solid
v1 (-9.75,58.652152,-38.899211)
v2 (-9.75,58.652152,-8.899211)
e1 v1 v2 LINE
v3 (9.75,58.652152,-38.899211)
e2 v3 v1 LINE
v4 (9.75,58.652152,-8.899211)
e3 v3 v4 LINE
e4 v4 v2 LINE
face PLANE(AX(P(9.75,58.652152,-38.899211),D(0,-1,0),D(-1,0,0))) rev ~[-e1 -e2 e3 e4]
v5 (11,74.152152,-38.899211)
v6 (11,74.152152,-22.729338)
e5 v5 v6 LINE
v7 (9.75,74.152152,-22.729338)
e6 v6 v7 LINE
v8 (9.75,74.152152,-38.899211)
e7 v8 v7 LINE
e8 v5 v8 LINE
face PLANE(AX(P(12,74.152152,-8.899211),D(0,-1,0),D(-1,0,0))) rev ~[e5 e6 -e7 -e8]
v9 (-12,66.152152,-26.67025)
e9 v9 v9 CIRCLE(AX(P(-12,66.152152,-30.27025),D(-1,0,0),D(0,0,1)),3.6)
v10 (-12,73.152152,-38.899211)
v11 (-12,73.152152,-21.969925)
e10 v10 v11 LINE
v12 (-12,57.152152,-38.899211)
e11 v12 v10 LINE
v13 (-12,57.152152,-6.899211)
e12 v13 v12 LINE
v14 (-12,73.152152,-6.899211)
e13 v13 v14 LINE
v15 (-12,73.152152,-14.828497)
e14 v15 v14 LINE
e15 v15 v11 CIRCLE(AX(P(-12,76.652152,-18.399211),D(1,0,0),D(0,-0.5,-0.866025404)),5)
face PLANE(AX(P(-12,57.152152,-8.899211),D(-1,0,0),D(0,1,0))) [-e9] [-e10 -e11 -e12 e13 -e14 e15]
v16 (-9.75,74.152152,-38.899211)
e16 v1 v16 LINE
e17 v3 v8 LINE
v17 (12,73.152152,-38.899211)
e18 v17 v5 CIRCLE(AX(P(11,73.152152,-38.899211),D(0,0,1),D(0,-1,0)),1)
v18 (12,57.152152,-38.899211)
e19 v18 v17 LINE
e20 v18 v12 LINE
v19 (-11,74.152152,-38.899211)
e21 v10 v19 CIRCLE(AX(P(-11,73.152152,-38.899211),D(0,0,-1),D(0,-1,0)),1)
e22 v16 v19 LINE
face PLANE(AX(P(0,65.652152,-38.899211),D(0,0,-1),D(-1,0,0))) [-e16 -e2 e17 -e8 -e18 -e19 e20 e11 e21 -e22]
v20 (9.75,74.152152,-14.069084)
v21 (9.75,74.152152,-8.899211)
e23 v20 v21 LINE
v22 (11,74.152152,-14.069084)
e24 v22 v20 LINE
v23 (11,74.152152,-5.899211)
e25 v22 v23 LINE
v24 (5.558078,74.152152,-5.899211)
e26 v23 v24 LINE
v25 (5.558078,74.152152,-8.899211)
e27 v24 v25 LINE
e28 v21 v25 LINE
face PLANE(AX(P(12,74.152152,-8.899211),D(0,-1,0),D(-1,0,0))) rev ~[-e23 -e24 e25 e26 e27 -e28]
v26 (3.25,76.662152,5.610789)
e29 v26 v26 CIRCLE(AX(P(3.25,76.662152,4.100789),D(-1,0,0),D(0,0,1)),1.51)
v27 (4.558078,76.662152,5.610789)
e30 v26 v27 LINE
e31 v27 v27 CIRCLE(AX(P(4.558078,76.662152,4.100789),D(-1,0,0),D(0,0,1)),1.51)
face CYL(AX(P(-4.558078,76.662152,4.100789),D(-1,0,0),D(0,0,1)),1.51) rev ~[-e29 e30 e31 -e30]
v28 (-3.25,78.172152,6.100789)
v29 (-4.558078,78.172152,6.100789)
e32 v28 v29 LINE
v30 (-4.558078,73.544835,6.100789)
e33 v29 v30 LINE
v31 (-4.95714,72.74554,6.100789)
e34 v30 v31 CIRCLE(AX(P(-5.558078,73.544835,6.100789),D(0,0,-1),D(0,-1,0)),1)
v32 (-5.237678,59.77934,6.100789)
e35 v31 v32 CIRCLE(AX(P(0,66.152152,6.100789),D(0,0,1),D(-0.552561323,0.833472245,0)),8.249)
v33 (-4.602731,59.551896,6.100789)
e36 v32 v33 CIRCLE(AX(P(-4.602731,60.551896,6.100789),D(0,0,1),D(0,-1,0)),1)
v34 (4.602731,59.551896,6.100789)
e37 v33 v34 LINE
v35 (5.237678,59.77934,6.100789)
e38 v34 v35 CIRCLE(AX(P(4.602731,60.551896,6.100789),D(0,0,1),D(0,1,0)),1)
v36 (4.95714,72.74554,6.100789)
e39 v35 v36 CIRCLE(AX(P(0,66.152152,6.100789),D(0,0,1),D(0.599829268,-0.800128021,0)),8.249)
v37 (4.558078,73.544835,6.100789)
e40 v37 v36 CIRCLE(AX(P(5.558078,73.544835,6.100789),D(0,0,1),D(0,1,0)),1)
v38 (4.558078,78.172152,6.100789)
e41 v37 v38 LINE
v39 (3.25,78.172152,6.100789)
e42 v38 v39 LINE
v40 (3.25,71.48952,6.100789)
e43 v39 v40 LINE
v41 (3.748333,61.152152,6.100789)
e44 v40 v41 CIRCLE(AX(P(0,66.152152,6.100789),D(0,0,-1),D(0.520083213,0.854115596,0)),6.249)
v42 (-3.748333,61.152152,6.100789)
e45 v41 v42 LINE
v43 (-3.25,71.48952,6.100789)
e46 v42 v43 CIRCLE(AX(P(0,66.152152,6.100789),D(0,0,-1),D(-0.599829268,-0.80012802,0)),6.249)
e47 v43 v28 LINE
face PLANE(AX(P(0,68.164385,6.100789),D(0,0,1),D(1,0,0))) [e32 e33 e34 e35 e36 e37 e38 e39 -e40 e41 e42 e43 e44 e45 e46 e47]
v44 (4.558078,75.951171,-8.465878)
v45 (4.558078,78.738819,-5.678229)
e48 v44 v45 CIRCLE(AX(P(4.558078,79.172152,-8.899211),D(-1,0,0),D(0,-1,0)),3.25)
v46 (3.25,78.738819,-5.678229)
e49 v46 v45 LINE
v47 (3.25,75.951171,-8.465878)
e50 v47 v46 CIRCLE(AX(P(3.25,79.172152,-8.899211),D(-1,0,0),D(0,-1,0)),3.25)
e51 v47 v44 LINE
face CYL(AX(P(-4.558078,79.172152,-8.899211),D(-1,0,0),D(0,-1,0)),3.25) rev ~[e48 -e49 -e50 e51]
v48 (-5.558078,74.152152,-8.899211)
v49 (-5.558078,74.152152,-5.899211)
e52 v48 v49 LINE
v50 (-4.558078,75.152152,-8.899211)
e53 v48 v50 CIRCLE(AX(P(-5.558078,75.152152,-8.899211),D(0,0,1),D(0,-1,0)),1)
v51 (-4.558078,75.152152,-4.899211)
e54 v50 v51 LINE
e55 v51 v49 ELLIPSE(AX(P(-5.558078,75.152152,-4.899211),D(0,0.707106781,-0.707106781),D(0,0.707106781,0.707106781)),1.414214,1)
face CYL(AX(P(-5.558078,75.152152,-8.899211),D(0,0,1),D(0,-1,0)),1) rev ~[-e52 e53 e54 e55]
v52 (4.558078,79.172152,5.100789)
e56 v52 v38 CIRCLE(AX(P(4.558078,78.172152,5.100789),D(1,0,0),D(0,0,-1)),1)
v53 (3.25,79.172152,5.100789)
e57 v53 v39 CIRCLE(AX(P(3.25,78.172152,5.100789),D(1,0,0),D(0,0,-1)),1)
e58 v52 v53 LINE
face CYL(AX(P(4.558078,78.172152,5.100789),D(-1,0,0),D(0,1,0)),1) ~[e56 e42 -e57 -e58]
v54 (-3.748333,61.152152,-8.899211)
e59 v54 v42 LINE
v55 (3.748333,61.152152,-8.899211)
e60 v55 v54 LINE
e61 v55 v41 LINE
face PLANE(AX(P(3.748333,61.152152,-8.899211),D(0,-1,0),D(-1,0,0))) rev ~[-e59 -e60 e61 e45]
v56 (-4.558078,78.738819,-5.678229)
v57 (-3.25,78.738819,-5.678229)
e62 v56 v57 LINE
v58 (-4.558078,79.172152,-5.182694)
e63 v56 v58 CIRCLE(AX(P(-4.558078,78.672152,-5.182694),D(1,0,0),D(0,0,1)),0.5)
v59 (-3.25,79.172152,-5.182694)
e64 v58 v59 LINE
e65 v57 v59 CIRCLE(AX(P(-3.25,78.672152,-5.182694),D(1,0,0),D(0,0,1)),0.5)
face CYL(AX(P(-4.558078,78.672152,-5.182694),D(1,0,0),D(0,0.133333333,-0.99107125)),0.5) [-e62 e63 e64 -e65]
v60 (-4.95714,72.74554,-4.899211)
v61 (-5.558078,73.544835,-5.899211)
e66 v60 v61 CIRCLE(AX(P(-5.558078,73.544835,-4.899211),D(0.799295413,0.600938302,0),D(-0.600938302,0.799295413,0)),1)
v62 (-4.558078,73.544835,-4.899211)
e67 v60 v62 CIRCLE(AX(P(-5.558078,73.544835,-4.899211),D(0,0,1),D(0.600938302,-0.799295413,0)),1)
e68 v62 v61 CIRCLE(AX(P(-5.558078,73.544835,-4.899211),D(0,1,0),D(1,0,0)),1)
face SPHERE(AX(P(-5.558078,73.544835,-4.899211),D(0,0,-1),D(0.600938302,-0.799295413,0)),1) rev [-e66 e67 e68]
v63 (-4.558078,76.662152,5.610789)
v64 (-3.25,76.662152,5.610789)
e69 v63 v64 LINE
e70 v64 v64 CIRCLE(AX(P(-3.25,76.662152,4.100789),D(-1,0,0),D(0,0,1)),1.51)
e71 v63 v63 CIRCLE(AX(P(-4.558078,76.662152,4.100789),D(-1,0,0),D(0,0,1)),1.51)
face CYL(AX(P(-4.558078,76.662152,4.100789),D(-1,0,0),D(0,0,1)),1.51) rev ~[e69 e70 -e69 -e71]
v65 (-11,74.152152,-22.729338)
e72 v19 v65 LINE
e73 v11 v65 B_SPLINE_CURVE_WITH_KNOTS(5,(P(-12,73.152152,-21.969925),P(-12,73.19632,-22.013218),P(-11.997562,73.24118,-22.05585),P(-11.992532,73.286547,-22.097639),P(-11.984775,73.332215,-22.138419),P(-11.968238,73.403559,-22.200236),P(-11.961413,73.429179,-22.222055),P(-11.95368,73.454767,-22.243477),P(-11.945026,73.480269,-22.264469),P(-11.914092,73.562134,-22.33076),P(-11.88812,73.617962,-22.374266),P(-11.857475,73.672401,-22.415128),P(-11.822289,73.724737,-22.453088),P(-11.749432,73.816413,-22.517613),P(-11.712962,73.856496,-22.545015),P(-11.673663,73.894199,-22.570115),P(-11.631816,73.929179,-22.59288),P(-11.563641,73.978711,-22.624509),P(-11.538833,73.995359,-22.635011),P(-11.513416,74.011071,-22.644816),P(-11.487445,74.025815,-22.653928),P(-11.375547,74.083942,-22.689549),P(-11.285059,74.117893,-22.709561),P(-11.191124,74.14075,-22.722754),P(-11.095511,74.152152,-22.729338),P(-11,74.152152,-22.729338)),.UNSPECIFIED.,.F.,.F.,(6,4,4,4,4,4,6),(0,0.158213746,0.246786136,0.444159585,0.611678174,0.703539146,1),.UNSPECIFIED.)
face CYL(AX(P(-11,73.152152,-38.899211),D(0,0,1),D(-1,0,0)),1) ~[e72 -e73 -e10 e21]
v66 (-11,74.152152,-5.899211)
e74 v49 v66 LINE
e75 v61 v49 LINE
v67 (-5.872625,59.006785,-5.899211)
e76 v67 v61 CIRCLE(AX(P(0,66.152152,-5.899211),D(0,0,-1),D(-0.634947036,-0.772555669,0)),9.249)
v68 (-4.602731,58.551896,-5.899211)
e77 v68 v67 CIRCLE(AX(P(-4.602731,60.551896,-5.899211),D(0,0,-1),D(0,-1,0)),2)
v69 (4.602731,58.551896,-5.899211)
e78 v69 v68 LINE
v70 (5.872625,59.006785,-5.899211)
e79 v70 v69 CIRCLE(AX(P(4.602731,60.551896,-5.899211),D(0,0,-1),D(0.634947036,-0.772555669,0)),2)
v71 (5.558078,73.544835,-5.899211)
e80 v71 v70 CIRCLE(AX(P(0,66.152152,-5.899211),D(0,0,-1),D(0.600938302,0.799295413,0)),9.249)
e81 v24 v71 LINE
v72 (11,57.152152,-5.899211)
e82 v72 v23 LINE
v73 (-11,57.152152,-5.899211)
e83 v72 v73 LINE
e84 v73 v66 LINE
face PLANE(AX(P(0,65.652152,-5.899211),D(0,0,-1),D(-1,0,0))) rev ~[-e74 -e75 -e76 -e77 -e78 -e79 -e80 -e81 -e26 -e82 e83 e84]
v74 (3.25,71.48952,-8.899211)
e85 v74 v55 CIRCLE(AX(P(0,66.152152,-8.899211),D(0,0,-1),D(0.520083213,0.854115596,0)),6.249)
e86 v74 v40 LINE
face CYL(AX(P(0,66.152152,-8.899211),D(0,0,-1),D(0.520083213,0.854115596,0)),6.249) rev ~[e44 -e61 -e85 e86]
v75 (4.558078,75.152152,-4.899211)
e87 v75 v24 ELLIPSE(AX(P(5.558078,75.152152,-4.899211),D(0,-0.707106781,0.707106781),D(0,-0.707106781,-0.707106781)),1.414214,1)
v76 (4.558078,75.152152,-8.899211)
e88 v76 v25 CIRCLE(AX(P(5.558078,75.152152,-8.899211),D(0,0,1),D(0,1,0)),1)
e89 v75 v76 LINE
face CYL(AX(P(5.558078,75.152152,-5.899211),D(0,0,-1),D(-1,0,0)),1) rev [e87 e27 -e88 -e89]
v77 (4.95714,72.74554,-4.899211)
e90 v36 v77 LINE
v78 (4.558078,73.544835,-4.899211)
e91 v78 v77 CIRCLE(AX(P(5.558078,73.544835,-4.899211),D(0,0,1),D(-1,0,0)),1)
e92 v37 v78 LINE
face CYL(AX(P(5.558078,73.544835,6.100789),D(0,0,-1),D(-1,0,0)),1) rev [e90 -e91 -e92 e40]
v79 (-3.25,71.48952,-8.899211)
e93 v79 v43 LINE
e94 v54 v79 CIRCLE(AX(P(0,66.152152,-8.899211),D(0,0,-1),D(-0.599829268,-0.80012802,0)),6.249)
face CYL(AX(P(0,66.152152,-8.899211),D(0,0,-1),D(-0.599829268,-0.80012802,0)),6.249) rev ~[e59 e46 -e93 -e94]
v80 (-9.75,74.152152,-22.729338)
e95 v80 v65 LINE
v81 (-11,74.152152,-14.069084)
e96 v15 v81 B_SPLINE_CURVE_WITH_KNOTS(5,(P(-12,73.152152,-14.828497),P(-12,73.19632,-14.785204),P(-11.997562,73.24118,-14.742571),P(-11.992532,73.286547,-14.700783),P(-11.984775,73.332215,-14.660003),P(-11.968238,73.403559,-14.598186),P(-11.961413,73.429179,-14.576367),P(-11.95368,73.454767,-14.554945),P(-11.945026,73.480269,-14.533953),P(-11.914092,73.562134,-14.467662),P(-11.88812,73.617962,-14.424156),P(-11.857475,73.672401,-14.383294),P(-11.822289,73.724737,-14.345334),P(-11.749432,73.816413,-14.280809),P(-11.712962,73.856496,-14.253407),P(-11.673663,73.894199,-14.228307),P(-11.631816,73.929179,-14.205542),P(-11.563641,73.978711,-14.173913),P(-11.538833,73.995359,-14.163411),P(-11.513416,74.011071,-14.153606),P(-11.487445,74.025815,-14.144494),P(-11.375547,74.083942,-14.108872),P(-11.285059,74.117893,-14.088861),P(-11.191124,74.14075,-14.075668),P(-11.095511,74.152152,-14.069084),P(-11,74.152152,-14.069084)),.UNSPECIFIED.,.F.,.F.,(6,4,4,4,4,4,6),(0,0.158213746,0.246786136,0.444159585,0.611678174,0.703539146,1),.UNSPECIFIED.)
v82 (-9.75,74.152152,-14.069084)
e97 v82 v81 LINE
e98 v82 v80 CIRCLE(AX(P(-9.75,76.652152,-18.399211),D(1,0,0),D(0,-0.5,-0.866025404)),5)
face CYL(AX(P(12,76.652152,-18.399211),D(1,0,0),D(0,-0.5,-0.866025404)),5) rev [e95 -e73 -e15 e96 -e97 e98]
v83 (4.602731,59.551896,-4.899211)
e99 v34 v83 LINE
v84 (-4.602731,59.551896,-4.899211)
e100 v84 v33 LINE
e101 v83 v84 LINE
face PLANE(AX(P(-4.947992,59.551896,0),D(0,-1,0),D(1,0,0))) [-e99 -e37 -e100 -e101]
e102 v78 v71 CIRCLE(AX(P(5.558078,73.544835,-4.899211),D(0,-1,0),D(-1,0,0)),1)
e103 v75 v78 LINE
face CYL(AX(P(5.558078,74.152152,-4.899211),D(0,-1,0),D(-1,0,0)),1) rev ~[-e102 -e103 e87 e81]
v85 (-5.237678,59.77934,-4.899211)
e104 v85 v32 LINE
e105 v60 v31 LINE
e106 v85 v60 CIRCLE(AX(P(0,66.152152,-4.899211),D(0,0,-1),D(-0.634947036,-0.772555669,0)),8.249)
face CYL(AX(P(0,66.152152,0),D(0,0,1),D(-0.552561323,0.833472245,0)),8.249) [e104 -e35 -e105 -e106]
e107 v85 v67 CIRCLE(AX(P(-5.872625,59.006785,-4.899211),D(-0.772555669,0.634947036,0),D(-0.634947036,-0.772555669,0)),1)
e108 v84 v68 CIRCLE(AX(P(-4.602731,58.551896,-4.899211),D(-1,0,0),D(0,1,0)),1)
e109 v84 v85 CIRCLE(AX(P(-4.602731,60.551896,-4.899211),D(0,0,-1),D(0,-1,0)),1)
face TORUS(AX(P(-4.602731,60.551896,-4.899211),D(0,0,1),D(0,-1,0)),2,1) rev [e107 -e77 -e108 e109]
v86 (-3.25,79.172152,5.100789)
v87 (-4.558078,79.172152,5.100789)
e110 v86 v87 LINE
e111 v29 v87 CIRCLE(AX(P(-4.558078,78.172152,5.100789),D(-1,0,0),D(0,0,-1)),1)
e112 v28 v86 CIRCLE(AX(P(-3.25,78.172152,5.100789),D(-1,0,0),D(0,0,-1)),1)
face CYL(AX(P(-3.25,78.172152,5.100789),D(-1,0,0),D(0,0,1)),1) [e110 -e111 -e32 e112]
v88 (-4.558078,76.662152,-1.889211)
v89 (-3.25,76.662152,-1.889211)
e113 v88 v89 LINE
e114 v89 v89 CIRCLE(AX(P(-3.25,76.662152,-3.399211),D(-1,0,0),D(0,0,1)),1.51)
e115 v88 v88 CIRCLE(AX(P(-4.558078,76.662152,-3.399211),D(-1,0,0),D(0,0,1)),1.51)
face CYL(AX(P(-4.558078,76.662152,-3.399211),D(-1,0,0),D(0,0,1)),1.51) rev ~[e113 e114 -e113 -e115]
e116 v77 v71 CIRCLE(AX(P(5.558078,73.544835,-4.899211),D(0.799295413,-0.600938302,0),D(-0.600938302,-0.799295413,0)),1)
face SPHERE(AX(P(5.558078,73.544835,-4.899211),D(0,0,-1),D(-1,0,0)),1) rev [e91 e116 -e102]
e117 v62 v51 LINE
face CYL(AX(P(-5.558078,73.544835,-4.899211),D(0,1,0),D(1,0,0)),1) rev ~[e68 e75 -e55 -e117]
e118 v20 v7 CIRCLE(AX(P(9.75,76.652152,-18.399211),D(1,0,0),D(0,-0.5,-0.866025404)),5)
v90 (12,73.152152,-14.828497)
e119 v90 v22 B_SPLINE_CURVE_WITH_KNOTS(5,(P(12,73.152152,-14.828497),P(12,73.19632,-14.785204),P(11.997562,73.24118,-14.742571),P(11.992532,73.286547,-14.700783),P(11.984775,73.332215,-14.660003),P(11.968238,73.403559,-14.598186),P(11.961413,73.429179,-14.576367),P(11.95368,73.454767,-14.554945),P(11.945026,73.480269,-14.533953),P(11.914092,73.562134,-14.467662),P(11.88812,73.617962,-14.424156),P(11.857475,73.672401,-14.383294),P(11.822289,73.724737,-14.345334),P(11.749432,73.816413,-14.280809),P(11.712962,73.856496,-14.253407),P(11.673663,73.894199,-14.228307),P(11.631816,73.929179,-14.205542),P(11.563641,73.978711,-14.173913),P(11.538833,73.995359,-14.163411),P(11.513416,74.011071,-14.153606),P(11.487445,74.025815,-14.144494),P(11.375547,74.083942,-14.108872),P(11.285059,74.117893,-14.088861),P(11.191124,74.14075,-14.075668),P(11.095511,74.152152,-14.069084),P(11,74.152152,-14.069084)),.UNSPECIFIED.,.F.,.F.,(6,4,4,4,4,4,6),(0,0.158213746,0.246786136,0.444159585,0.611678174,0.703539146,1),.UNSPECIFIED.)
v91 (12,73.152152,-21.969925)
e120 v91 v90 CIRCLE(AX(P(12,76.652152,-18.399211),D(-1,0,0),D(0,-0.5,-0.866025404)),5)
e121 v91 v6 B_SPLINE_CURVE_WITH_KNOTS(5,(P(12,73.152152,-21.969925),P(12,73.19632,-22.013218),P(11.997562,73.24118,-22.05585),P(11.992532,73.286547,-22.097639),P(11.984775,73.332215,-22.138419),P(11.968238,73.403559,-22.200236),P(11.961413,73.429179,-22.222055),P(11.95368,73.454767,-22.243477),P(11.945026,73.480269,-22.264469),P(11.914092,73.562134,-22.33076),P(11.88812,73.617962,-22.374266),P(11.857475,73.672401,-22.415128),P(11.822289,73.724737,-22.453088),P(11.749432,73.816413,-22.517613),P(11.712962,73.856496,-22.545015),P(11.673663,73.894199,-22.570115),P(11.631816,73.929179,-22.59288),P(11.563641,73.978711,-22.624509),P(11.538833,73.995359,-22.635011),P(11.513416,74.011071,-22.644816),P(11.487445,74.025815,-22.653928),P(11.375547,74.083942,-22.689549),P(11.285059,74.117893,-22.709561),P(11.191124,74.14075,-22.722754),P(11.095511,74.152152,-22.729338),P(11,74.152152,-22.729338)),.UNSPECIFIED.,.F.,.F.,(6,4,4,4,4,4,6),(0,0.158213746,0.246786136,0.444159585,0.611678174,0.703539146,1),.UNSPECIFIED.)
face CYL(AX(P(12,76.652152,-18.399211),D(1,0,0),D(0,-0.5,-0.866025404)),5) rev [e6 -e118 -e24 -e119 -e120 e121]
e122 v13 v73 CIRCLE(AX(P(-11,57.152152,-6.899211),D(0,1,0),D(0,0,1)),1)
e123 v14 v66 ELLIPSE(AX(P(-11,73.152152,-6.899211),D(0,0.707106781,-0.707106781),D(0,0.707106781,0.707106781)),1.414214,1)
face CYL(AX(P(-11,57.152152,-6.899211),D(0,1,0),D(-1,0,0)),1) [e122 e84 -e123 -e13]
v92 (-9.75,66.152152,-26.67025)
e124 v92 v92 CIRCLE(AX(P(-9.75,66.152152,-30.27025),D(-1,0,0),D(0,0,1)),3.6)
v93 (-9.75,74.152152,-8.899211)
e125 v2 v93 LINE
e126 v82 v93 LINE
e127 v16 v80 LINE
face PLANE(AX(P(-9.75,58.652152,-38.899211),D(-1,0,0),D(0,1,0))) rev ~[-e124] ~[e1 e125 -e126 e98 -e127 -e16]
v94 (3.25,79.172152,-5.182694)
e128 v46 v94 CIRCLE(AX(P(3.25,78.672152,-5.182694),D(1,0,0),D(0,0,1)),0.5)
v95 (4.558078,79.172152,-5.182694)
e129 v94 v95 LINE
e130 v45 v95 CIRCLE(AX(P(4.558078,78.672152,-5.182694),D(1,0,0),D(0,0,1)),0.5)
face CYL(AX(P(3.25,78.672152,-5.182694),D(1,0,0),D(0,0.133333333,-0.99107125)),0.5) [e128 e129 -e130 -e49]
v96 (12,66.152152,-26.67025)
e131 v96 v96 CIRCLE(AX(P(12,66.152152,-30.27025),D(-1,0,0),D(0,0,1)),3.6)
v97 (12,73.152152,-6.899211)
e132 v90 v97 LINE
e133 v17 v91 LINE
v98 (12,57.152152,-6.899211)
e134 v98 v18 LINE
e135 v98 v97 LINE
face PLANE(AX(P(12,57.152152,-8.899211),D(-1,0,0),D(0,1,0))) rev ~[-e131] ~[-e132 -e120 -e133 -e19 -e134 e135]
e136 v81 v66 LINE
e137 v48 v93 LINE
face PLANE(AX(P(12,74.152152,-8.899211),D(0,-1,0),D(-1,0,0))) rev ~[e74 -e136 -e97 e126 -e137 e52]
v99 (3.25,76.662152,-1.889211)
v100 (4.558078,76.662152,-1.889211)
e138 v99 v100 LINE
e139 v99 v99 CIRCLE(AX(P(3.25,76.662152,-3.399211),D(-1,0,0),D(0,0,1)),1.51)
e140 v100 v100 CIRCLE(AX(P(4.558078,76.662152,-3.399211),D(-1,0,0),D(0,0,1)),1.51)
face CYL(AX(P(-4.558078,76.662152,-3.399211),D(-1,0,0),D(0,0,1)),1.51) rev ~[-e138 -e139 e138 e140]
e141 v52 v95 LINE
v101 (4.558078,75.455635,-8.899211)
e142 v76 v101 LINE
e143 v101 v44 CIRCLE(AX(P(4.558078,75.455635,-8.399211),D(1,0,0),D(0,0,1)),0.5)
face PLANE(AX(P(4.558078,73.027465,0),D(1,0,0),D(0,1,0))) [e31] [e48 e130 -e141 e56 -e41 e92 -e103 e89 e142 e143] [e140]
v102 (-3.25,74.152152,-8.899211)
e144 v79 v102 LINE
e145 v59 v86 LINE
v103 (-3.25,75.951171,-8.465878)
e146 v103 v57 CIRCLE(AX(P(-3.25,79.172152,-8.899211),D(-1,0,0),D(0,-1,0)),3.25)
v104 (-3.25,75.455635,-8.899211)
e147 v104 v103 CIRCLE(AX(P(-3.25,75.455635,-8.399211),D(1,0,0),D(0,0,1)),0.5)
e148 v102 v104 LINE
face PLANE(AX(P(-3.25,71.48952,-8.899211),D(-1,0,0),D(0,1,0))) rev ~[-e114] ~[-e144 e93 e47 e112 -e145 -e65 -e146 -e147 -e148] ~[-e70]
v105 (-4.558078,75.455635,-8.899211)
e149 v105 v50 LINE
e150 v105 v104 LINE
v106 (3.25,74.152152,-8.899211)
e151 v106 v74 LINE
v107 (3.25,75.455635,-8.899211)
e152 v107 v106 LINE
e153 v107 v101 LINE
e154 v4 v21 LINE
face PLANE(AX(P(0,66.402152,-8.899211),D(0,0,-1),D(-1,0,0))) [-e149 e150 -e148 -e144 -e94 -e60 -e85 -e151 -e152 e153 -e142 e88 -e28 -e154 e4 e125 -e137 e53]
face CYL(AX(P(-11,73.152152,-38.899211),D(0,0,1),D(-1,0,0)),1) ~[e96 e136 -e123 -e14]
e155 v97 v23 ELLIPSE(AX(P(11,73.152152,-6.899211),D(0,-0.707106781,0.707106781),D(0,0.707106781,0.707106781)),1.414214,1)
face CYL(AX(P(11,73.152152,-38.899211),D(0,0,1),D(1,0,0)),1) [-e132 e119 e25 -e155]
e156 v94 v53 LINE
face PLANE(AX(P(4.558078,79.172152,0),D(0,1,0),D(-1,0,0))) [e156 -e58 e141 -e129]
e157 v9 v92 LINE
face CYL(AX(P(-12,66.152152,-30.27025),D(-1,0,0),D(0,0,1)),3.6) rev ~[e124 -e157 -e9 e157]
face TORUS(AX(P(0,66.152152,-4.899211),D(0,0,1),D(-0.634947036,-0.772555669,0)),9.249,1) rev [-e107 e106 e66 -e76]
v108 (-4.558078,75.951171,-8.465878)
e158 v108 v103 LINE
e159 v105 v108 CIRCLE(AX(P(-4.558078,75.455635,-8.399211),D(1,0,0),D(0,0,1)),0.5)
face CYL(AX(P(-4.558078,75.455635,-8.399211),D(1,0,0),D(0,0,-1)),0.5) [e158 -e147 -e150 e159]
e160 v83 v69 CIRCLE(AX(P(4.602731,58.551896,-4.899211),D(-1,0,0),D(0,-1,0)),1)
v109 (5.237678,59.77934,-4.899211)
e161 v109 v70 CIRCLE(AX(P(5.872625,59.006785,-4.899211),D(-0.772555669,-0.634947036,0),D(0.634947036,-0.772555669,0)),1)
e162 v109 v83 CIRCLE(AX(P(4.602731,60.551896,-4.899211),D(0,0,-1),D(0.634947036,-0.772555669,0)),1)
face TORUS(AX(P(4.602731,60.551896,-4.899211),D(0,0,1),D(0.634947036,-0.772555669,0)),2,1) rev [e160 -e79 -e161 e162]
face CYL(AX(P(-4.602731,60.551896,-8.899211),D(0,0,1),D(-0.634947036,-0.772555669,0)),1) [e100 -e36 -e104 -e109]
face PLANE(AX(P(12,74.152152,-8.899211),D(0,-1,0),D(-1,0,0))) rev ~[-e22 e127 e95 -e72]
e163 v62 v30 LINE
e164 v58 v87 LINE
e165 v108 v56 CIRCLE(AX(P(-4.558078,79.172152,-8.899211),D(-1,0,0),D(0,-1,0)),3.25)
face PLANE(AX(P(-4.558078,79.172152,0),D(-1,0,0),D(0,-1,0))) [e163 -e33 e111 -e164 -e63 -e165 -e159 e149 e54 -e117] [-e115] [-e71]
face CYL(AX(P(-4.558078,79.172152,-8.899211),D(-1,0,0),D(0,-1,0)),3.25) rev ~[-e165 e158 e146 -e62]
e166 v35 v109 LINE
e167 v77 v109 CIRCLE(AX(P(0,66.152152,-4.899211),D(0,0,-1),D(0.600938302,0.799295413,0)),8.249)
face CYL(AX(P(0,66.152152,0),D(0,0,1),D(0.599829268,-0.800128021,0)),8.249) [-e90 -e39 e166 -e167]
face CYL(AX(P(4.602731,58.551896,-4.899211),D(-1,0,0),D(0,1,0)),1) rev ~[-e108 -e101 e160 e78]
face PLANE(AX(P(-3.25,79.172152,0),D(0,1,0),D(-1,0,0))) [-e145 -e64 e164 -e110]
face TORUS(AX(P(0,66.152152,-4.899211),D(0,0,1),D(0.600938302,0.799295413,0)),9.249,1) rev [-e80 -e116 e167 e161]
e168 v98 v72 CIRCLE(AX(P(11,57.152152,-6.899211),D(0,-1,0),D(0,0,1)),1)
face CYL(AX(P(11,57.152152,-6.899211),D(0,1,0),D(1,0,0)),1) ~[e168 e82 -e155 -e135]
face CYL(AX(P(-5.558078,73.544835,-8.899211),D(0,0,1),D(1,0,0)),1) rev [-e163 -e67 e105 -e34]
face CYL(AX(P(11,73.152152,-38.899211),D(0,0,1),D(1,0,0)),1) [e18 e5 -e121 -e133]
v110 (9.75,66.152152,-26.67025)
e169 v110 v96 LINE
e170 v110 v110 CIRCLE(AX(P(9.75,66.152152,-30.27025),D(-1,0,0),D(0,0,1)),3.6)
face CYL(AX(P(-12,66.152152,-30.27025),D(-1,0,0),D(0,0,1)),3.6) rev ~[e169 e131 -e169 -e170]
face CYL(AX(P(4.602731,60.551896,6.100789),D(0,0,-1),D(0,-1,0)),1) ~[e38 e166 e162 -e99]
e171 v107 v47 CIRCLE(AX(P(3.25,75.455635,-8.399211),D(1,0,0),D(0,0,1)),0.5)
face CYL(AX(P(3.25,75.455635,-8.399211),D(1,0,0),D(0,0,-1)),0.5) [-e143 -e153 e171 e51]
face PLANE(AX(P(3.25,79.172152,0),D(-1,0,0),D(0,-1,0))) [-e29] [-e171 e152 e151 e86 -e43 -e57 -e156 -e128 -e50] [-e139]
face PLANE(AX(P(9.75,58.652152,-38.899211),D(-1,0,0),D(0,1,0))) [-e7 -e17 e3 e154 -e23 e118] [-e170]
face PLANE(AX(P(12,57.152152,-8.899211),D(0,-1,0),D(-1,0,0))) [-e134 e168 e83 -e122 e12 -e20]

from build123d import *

# Parameters (mm, degrees)
BOSS_EXTRUDE1_DEPTH      = 6.100789
BOSS_EXTRUDE1_DEPTH_BACK = 8.899211
SKETCH2_R                = 1.51
CUT_EXTRUDE1_DEPTH       = 13.807078357
FILLET1_R                = 1
SKETCH3_W                = 24
SKETCH3_H                = 17
BOSS_EXTRUDE2_DEPTH      = 30
BOSS_EXTRUDE2_DEPTH_BACK = 3
SKETCH4_W                = 19.5
SKETCH4_H                = 15.5
CUT_EXTRUDE2_DEPTH       = 30
CUT_EXTRUDE6_DEPTH       = 3
FILLET2_R                = 1
SKETCH7_R                = 3.6
CUT_EXTRUDE7_DEPTH       = 25
CUT_EXTRUDE8_DEPTH       = 1
CUT_EXTRUDE8_DEPTH_BACK  = 25
CUT_EXTRUDE9_DEPTH       = 17.558078457
FILLET3_R                = 0.5


with BuildPart() as part:
    # Sketch1 → Boss-Extrude1 (new body, two sides)
    with BuildSketch(Plane.XY) as boss_extrude1_sk:
        with BuildLine():
            Line((4.558078357, 79.172152098), (3.25, 79.172152098))
            Line((3.25, 79.172152098), (3.25, 71.489520457))
            ThreePointArc((3.25, 71.489520457), (6.241751571, 66.453047962), (3.748333096, 61.152152098))
            Line((3.748333096, 61.152152098), (-3.748333096, 61.152152098))
            ThreePointArc((-3.748333096, 61.152152098), (-6.241751571, 66.453047962), (-3.25, 71.489520457))
            Line((-3.25, 71.489520457), (-3.25, 79.172152098))
            Line((-3.25, 79.172152098), (-4.558078357, 79.172152098))
            Line((-4.558078357, 79.172152098), (-4.558078357, 73.02746465))
            ThreePointArc((-4.558078357, 73.02746465), (-8.245549035, 66.39073565), (-4.947991632, 59.551896057))
            Line((-4.947991632, 59.551896057), (4.947991632, 59.551896057))
            ThreePointArc((4.947991632, 59.551896057), (8.245549035, 66.39073565), (4.558078357, 73.02746465))
            Line((4.558078357, 73.02746465), (4.558078357, 79.172152098))
        make_face()
    extrude(amount=BOSS_EXTRUDE1_DEPTH)
    extrude(boss_extrude1_sk.sketch, amount=-BOSS_EXTRUDE1_DEPTH_BACK)

    # Sketch2 → Cut-Extrude1 (cut, through all)
    with BuildSketch(Plane.ZY.offset(4.558078357)):
        with Locations((4.10078902, 76.662152098)):
            Circle(SKETCH2_R)
        with Locations((-3.39921098, 76.662152098)):
            Circle(SKETCH2_R)
    extrude(amount=-CUT_EXTRUDE1_DEPTH, mode=Mode.SUBTRACT)

    # Fillet1
    fillet1_edges = [part.edges().sort_by_distance(p)[0] for p in [
        (4.558078357, 73.02746465, -1.399211),
        (4.947991632, 59.551896057, -1.399211),
        (-4.947991632, 59.551896057, -1.399211),
        (-4.558078357, 73.02746465, -1.399211),
        (-3.904039179, 79.172152098, 6.100789),
        (3.904039179, 79.172152098, 6.100789),
        (3.904039179, 79.172152098, -8.899211),
        (-3.904039179, 79.172152098, -8.899211),
    ]]
    fillet(fillet1_edges, radius=FILLET1_R)

    # Sketch3 → Boss-Extrude2 (add, two sides)
    with BuildSketch(Plane(origin=(0, 0, -8.89921098), x_dir=(-1, 0, 0), z_dir=(0, 0, -1))) as boss_extrude2_sk:
        with Locations((0, 65.652152098)):
            Rectangle(SKETCH3_W, SKETCH3_H)
    extrude(amount=BOSS_EXTRUDE2_DEPTH)
    extrude(boss_extrude2_sk.sketch, amount=-BOSS_EXTRUDE2_DEPTH_BACK)

    # Sketch4 → Cut-Extrude2 (cut)
    with BuildSketch(Plane(origin=(0, 0, -38.89921098), x_dir=(-1, 0, 0), z_dir=(0, 0, -1))):
        with Locations((0, 66.402152098)):
            Rectangle(SKETCH4_W, SKETCH4_H)
    extrude(amount=-CUT_EXTRUDE2_DEPTH, mode=Mode.SUBTRACT)

    # Sketch6 → Cut-Extrude6 (cut)
    with BuildSketch(Plane(origin=(0, 0, -8.89921098), x_dir=(-1, 0, 0), z_dir=(0, 0, -1))):
        with BuildLine():
            Line((-3.25, 74.152152098), (-3.25, 71.489520457))
            ThreePointArc((-3.25, 71.489520457), (-6.241751571, 66.453047962), (-3.748333096, 61.152152098))
            Line((-3.748333096, 61.152152098), (3.748333096, 61.152152098))
            ThreePointArc((3.748333096, 61.152152098), (6.241751571, 66.453047962), (3.25, 71.489520457))
            Line((3.25, 71.489520457), (3.25, 74.152152098))
            Line((3.25, 74.152152098), (-3.25, 74.152152098))
        make_face()
    extrude(amount=-CUT_EXTRUDE6_DEPTH, mode=Mode.SUBTRACT)

    # Fillet2
    fillet2_edges = [part.edges().sort_by_distance(p)[0] for p in [
        (-4.663388941, 73.09814661, -5.89921098),
        (12, 74.152152098, -22.39921098),
        (-4.558078357, 74.152152098, -7.39921099),
        (4.558078357, 73.848493734, -5.89921098),
        (4.663388941, 73.09814661, -5.89921098),
        (8.247069912, 66.330586564, -5.89921098),
        (0, 59.551896057, -5.89921098),
        (-8.247069912, 66.330586564, -5.89921098),
        (-4.558078357, 73.848493734, -5.89921098),
        (12, 65.652152098, -5.89921098),
        (4.558078357, 74.152152098, -7.39921099),
        (-12, 74.152152098, -22.39921098),
        (-12, 65.652152098, -5.89921098),
        (-4.939958239, 59.610472754, -5.89921098),
        (4.939958239, 59.610472754, -5.89921098),
    ]]
    fillet(fillet2_edges, radius=FILLET2_R)

    # Sketch7 → Cut-Extrude7 (cut, through all)
    with BuildSketch(Plane.ZY.offset(12)):
        with Locations((-30.270250022, 66.152152098)):
            Circle(SKETCH7_R)
    extrude(amount=-CUT_EXTRUDE7_DEPTH, mode=Mode.SUBTRACT)

    # Sketch8 → Cut-Extrude8 (cut, two sides)
    with BuildSketch(Plane(origin=(12, 0, 0), x_dir=(0, 0, -1), z_dir=(1, 0, 0))) as cut_extrude8_sk:
        with BuildLine():
            Line((14.069083961, 74.152152098), (22.729337999, 74.152152098))
            ThreePointArc((22.729337999, 74.152152098), (18.39921098, 71.652152098), (14.069083961, 74.152152098))
        make_face()
    extrude(amount=CUT_EXTRUDE8_DEPTH, mode=Mode.SUBTRACT)
    extrude(cut_extrude8_sk.sketch, amount=-CUT_EXTRUDE8_DEPTH_BACK, mode=Mode.SUBTRACT)

    # Sketch9 → Cut-Extrude9 (cut, through all)
    with BuildSketch(Plane.ZY.offset(4.558078357)):
        with BuildLine():
            Line((-8.89921098, 78.172152098), (-8.89921098, 75.922152098))
            ThreePointArc((-8.89921098, 75.922152098), (-6.601113941, 76.874055059), (-5.64921098, 79.172152098))
            Line((-5.64921098, 79.172152098), (-7.89921098, 79.172152098))
            ThreePointArc((-7.89921098, 79.172152098), (-8.606317761, 78.879258879), (-8.89921098, 78.172152098))
        make_face()
    extrude(amount=-CUT_EXTRUDE9_DEPTH, mode=Mode.SUBTRACT)

    # Fillet3
    fillet3_edges = [part.edges().sort_by_distance(p)[0] for p in [
        (-3.904039179, 79.172152098, -5.64921098),
        (3.904039179, 79.172152098, -5.64921098),
        (-3.904039179, 75.922152098, -8.89921098),
        (3.904039179, 75.922152098, -8.89921098),
    ]]
    fillet(fillet3_edges, radius=FILLET3_R)


solid = part.part
